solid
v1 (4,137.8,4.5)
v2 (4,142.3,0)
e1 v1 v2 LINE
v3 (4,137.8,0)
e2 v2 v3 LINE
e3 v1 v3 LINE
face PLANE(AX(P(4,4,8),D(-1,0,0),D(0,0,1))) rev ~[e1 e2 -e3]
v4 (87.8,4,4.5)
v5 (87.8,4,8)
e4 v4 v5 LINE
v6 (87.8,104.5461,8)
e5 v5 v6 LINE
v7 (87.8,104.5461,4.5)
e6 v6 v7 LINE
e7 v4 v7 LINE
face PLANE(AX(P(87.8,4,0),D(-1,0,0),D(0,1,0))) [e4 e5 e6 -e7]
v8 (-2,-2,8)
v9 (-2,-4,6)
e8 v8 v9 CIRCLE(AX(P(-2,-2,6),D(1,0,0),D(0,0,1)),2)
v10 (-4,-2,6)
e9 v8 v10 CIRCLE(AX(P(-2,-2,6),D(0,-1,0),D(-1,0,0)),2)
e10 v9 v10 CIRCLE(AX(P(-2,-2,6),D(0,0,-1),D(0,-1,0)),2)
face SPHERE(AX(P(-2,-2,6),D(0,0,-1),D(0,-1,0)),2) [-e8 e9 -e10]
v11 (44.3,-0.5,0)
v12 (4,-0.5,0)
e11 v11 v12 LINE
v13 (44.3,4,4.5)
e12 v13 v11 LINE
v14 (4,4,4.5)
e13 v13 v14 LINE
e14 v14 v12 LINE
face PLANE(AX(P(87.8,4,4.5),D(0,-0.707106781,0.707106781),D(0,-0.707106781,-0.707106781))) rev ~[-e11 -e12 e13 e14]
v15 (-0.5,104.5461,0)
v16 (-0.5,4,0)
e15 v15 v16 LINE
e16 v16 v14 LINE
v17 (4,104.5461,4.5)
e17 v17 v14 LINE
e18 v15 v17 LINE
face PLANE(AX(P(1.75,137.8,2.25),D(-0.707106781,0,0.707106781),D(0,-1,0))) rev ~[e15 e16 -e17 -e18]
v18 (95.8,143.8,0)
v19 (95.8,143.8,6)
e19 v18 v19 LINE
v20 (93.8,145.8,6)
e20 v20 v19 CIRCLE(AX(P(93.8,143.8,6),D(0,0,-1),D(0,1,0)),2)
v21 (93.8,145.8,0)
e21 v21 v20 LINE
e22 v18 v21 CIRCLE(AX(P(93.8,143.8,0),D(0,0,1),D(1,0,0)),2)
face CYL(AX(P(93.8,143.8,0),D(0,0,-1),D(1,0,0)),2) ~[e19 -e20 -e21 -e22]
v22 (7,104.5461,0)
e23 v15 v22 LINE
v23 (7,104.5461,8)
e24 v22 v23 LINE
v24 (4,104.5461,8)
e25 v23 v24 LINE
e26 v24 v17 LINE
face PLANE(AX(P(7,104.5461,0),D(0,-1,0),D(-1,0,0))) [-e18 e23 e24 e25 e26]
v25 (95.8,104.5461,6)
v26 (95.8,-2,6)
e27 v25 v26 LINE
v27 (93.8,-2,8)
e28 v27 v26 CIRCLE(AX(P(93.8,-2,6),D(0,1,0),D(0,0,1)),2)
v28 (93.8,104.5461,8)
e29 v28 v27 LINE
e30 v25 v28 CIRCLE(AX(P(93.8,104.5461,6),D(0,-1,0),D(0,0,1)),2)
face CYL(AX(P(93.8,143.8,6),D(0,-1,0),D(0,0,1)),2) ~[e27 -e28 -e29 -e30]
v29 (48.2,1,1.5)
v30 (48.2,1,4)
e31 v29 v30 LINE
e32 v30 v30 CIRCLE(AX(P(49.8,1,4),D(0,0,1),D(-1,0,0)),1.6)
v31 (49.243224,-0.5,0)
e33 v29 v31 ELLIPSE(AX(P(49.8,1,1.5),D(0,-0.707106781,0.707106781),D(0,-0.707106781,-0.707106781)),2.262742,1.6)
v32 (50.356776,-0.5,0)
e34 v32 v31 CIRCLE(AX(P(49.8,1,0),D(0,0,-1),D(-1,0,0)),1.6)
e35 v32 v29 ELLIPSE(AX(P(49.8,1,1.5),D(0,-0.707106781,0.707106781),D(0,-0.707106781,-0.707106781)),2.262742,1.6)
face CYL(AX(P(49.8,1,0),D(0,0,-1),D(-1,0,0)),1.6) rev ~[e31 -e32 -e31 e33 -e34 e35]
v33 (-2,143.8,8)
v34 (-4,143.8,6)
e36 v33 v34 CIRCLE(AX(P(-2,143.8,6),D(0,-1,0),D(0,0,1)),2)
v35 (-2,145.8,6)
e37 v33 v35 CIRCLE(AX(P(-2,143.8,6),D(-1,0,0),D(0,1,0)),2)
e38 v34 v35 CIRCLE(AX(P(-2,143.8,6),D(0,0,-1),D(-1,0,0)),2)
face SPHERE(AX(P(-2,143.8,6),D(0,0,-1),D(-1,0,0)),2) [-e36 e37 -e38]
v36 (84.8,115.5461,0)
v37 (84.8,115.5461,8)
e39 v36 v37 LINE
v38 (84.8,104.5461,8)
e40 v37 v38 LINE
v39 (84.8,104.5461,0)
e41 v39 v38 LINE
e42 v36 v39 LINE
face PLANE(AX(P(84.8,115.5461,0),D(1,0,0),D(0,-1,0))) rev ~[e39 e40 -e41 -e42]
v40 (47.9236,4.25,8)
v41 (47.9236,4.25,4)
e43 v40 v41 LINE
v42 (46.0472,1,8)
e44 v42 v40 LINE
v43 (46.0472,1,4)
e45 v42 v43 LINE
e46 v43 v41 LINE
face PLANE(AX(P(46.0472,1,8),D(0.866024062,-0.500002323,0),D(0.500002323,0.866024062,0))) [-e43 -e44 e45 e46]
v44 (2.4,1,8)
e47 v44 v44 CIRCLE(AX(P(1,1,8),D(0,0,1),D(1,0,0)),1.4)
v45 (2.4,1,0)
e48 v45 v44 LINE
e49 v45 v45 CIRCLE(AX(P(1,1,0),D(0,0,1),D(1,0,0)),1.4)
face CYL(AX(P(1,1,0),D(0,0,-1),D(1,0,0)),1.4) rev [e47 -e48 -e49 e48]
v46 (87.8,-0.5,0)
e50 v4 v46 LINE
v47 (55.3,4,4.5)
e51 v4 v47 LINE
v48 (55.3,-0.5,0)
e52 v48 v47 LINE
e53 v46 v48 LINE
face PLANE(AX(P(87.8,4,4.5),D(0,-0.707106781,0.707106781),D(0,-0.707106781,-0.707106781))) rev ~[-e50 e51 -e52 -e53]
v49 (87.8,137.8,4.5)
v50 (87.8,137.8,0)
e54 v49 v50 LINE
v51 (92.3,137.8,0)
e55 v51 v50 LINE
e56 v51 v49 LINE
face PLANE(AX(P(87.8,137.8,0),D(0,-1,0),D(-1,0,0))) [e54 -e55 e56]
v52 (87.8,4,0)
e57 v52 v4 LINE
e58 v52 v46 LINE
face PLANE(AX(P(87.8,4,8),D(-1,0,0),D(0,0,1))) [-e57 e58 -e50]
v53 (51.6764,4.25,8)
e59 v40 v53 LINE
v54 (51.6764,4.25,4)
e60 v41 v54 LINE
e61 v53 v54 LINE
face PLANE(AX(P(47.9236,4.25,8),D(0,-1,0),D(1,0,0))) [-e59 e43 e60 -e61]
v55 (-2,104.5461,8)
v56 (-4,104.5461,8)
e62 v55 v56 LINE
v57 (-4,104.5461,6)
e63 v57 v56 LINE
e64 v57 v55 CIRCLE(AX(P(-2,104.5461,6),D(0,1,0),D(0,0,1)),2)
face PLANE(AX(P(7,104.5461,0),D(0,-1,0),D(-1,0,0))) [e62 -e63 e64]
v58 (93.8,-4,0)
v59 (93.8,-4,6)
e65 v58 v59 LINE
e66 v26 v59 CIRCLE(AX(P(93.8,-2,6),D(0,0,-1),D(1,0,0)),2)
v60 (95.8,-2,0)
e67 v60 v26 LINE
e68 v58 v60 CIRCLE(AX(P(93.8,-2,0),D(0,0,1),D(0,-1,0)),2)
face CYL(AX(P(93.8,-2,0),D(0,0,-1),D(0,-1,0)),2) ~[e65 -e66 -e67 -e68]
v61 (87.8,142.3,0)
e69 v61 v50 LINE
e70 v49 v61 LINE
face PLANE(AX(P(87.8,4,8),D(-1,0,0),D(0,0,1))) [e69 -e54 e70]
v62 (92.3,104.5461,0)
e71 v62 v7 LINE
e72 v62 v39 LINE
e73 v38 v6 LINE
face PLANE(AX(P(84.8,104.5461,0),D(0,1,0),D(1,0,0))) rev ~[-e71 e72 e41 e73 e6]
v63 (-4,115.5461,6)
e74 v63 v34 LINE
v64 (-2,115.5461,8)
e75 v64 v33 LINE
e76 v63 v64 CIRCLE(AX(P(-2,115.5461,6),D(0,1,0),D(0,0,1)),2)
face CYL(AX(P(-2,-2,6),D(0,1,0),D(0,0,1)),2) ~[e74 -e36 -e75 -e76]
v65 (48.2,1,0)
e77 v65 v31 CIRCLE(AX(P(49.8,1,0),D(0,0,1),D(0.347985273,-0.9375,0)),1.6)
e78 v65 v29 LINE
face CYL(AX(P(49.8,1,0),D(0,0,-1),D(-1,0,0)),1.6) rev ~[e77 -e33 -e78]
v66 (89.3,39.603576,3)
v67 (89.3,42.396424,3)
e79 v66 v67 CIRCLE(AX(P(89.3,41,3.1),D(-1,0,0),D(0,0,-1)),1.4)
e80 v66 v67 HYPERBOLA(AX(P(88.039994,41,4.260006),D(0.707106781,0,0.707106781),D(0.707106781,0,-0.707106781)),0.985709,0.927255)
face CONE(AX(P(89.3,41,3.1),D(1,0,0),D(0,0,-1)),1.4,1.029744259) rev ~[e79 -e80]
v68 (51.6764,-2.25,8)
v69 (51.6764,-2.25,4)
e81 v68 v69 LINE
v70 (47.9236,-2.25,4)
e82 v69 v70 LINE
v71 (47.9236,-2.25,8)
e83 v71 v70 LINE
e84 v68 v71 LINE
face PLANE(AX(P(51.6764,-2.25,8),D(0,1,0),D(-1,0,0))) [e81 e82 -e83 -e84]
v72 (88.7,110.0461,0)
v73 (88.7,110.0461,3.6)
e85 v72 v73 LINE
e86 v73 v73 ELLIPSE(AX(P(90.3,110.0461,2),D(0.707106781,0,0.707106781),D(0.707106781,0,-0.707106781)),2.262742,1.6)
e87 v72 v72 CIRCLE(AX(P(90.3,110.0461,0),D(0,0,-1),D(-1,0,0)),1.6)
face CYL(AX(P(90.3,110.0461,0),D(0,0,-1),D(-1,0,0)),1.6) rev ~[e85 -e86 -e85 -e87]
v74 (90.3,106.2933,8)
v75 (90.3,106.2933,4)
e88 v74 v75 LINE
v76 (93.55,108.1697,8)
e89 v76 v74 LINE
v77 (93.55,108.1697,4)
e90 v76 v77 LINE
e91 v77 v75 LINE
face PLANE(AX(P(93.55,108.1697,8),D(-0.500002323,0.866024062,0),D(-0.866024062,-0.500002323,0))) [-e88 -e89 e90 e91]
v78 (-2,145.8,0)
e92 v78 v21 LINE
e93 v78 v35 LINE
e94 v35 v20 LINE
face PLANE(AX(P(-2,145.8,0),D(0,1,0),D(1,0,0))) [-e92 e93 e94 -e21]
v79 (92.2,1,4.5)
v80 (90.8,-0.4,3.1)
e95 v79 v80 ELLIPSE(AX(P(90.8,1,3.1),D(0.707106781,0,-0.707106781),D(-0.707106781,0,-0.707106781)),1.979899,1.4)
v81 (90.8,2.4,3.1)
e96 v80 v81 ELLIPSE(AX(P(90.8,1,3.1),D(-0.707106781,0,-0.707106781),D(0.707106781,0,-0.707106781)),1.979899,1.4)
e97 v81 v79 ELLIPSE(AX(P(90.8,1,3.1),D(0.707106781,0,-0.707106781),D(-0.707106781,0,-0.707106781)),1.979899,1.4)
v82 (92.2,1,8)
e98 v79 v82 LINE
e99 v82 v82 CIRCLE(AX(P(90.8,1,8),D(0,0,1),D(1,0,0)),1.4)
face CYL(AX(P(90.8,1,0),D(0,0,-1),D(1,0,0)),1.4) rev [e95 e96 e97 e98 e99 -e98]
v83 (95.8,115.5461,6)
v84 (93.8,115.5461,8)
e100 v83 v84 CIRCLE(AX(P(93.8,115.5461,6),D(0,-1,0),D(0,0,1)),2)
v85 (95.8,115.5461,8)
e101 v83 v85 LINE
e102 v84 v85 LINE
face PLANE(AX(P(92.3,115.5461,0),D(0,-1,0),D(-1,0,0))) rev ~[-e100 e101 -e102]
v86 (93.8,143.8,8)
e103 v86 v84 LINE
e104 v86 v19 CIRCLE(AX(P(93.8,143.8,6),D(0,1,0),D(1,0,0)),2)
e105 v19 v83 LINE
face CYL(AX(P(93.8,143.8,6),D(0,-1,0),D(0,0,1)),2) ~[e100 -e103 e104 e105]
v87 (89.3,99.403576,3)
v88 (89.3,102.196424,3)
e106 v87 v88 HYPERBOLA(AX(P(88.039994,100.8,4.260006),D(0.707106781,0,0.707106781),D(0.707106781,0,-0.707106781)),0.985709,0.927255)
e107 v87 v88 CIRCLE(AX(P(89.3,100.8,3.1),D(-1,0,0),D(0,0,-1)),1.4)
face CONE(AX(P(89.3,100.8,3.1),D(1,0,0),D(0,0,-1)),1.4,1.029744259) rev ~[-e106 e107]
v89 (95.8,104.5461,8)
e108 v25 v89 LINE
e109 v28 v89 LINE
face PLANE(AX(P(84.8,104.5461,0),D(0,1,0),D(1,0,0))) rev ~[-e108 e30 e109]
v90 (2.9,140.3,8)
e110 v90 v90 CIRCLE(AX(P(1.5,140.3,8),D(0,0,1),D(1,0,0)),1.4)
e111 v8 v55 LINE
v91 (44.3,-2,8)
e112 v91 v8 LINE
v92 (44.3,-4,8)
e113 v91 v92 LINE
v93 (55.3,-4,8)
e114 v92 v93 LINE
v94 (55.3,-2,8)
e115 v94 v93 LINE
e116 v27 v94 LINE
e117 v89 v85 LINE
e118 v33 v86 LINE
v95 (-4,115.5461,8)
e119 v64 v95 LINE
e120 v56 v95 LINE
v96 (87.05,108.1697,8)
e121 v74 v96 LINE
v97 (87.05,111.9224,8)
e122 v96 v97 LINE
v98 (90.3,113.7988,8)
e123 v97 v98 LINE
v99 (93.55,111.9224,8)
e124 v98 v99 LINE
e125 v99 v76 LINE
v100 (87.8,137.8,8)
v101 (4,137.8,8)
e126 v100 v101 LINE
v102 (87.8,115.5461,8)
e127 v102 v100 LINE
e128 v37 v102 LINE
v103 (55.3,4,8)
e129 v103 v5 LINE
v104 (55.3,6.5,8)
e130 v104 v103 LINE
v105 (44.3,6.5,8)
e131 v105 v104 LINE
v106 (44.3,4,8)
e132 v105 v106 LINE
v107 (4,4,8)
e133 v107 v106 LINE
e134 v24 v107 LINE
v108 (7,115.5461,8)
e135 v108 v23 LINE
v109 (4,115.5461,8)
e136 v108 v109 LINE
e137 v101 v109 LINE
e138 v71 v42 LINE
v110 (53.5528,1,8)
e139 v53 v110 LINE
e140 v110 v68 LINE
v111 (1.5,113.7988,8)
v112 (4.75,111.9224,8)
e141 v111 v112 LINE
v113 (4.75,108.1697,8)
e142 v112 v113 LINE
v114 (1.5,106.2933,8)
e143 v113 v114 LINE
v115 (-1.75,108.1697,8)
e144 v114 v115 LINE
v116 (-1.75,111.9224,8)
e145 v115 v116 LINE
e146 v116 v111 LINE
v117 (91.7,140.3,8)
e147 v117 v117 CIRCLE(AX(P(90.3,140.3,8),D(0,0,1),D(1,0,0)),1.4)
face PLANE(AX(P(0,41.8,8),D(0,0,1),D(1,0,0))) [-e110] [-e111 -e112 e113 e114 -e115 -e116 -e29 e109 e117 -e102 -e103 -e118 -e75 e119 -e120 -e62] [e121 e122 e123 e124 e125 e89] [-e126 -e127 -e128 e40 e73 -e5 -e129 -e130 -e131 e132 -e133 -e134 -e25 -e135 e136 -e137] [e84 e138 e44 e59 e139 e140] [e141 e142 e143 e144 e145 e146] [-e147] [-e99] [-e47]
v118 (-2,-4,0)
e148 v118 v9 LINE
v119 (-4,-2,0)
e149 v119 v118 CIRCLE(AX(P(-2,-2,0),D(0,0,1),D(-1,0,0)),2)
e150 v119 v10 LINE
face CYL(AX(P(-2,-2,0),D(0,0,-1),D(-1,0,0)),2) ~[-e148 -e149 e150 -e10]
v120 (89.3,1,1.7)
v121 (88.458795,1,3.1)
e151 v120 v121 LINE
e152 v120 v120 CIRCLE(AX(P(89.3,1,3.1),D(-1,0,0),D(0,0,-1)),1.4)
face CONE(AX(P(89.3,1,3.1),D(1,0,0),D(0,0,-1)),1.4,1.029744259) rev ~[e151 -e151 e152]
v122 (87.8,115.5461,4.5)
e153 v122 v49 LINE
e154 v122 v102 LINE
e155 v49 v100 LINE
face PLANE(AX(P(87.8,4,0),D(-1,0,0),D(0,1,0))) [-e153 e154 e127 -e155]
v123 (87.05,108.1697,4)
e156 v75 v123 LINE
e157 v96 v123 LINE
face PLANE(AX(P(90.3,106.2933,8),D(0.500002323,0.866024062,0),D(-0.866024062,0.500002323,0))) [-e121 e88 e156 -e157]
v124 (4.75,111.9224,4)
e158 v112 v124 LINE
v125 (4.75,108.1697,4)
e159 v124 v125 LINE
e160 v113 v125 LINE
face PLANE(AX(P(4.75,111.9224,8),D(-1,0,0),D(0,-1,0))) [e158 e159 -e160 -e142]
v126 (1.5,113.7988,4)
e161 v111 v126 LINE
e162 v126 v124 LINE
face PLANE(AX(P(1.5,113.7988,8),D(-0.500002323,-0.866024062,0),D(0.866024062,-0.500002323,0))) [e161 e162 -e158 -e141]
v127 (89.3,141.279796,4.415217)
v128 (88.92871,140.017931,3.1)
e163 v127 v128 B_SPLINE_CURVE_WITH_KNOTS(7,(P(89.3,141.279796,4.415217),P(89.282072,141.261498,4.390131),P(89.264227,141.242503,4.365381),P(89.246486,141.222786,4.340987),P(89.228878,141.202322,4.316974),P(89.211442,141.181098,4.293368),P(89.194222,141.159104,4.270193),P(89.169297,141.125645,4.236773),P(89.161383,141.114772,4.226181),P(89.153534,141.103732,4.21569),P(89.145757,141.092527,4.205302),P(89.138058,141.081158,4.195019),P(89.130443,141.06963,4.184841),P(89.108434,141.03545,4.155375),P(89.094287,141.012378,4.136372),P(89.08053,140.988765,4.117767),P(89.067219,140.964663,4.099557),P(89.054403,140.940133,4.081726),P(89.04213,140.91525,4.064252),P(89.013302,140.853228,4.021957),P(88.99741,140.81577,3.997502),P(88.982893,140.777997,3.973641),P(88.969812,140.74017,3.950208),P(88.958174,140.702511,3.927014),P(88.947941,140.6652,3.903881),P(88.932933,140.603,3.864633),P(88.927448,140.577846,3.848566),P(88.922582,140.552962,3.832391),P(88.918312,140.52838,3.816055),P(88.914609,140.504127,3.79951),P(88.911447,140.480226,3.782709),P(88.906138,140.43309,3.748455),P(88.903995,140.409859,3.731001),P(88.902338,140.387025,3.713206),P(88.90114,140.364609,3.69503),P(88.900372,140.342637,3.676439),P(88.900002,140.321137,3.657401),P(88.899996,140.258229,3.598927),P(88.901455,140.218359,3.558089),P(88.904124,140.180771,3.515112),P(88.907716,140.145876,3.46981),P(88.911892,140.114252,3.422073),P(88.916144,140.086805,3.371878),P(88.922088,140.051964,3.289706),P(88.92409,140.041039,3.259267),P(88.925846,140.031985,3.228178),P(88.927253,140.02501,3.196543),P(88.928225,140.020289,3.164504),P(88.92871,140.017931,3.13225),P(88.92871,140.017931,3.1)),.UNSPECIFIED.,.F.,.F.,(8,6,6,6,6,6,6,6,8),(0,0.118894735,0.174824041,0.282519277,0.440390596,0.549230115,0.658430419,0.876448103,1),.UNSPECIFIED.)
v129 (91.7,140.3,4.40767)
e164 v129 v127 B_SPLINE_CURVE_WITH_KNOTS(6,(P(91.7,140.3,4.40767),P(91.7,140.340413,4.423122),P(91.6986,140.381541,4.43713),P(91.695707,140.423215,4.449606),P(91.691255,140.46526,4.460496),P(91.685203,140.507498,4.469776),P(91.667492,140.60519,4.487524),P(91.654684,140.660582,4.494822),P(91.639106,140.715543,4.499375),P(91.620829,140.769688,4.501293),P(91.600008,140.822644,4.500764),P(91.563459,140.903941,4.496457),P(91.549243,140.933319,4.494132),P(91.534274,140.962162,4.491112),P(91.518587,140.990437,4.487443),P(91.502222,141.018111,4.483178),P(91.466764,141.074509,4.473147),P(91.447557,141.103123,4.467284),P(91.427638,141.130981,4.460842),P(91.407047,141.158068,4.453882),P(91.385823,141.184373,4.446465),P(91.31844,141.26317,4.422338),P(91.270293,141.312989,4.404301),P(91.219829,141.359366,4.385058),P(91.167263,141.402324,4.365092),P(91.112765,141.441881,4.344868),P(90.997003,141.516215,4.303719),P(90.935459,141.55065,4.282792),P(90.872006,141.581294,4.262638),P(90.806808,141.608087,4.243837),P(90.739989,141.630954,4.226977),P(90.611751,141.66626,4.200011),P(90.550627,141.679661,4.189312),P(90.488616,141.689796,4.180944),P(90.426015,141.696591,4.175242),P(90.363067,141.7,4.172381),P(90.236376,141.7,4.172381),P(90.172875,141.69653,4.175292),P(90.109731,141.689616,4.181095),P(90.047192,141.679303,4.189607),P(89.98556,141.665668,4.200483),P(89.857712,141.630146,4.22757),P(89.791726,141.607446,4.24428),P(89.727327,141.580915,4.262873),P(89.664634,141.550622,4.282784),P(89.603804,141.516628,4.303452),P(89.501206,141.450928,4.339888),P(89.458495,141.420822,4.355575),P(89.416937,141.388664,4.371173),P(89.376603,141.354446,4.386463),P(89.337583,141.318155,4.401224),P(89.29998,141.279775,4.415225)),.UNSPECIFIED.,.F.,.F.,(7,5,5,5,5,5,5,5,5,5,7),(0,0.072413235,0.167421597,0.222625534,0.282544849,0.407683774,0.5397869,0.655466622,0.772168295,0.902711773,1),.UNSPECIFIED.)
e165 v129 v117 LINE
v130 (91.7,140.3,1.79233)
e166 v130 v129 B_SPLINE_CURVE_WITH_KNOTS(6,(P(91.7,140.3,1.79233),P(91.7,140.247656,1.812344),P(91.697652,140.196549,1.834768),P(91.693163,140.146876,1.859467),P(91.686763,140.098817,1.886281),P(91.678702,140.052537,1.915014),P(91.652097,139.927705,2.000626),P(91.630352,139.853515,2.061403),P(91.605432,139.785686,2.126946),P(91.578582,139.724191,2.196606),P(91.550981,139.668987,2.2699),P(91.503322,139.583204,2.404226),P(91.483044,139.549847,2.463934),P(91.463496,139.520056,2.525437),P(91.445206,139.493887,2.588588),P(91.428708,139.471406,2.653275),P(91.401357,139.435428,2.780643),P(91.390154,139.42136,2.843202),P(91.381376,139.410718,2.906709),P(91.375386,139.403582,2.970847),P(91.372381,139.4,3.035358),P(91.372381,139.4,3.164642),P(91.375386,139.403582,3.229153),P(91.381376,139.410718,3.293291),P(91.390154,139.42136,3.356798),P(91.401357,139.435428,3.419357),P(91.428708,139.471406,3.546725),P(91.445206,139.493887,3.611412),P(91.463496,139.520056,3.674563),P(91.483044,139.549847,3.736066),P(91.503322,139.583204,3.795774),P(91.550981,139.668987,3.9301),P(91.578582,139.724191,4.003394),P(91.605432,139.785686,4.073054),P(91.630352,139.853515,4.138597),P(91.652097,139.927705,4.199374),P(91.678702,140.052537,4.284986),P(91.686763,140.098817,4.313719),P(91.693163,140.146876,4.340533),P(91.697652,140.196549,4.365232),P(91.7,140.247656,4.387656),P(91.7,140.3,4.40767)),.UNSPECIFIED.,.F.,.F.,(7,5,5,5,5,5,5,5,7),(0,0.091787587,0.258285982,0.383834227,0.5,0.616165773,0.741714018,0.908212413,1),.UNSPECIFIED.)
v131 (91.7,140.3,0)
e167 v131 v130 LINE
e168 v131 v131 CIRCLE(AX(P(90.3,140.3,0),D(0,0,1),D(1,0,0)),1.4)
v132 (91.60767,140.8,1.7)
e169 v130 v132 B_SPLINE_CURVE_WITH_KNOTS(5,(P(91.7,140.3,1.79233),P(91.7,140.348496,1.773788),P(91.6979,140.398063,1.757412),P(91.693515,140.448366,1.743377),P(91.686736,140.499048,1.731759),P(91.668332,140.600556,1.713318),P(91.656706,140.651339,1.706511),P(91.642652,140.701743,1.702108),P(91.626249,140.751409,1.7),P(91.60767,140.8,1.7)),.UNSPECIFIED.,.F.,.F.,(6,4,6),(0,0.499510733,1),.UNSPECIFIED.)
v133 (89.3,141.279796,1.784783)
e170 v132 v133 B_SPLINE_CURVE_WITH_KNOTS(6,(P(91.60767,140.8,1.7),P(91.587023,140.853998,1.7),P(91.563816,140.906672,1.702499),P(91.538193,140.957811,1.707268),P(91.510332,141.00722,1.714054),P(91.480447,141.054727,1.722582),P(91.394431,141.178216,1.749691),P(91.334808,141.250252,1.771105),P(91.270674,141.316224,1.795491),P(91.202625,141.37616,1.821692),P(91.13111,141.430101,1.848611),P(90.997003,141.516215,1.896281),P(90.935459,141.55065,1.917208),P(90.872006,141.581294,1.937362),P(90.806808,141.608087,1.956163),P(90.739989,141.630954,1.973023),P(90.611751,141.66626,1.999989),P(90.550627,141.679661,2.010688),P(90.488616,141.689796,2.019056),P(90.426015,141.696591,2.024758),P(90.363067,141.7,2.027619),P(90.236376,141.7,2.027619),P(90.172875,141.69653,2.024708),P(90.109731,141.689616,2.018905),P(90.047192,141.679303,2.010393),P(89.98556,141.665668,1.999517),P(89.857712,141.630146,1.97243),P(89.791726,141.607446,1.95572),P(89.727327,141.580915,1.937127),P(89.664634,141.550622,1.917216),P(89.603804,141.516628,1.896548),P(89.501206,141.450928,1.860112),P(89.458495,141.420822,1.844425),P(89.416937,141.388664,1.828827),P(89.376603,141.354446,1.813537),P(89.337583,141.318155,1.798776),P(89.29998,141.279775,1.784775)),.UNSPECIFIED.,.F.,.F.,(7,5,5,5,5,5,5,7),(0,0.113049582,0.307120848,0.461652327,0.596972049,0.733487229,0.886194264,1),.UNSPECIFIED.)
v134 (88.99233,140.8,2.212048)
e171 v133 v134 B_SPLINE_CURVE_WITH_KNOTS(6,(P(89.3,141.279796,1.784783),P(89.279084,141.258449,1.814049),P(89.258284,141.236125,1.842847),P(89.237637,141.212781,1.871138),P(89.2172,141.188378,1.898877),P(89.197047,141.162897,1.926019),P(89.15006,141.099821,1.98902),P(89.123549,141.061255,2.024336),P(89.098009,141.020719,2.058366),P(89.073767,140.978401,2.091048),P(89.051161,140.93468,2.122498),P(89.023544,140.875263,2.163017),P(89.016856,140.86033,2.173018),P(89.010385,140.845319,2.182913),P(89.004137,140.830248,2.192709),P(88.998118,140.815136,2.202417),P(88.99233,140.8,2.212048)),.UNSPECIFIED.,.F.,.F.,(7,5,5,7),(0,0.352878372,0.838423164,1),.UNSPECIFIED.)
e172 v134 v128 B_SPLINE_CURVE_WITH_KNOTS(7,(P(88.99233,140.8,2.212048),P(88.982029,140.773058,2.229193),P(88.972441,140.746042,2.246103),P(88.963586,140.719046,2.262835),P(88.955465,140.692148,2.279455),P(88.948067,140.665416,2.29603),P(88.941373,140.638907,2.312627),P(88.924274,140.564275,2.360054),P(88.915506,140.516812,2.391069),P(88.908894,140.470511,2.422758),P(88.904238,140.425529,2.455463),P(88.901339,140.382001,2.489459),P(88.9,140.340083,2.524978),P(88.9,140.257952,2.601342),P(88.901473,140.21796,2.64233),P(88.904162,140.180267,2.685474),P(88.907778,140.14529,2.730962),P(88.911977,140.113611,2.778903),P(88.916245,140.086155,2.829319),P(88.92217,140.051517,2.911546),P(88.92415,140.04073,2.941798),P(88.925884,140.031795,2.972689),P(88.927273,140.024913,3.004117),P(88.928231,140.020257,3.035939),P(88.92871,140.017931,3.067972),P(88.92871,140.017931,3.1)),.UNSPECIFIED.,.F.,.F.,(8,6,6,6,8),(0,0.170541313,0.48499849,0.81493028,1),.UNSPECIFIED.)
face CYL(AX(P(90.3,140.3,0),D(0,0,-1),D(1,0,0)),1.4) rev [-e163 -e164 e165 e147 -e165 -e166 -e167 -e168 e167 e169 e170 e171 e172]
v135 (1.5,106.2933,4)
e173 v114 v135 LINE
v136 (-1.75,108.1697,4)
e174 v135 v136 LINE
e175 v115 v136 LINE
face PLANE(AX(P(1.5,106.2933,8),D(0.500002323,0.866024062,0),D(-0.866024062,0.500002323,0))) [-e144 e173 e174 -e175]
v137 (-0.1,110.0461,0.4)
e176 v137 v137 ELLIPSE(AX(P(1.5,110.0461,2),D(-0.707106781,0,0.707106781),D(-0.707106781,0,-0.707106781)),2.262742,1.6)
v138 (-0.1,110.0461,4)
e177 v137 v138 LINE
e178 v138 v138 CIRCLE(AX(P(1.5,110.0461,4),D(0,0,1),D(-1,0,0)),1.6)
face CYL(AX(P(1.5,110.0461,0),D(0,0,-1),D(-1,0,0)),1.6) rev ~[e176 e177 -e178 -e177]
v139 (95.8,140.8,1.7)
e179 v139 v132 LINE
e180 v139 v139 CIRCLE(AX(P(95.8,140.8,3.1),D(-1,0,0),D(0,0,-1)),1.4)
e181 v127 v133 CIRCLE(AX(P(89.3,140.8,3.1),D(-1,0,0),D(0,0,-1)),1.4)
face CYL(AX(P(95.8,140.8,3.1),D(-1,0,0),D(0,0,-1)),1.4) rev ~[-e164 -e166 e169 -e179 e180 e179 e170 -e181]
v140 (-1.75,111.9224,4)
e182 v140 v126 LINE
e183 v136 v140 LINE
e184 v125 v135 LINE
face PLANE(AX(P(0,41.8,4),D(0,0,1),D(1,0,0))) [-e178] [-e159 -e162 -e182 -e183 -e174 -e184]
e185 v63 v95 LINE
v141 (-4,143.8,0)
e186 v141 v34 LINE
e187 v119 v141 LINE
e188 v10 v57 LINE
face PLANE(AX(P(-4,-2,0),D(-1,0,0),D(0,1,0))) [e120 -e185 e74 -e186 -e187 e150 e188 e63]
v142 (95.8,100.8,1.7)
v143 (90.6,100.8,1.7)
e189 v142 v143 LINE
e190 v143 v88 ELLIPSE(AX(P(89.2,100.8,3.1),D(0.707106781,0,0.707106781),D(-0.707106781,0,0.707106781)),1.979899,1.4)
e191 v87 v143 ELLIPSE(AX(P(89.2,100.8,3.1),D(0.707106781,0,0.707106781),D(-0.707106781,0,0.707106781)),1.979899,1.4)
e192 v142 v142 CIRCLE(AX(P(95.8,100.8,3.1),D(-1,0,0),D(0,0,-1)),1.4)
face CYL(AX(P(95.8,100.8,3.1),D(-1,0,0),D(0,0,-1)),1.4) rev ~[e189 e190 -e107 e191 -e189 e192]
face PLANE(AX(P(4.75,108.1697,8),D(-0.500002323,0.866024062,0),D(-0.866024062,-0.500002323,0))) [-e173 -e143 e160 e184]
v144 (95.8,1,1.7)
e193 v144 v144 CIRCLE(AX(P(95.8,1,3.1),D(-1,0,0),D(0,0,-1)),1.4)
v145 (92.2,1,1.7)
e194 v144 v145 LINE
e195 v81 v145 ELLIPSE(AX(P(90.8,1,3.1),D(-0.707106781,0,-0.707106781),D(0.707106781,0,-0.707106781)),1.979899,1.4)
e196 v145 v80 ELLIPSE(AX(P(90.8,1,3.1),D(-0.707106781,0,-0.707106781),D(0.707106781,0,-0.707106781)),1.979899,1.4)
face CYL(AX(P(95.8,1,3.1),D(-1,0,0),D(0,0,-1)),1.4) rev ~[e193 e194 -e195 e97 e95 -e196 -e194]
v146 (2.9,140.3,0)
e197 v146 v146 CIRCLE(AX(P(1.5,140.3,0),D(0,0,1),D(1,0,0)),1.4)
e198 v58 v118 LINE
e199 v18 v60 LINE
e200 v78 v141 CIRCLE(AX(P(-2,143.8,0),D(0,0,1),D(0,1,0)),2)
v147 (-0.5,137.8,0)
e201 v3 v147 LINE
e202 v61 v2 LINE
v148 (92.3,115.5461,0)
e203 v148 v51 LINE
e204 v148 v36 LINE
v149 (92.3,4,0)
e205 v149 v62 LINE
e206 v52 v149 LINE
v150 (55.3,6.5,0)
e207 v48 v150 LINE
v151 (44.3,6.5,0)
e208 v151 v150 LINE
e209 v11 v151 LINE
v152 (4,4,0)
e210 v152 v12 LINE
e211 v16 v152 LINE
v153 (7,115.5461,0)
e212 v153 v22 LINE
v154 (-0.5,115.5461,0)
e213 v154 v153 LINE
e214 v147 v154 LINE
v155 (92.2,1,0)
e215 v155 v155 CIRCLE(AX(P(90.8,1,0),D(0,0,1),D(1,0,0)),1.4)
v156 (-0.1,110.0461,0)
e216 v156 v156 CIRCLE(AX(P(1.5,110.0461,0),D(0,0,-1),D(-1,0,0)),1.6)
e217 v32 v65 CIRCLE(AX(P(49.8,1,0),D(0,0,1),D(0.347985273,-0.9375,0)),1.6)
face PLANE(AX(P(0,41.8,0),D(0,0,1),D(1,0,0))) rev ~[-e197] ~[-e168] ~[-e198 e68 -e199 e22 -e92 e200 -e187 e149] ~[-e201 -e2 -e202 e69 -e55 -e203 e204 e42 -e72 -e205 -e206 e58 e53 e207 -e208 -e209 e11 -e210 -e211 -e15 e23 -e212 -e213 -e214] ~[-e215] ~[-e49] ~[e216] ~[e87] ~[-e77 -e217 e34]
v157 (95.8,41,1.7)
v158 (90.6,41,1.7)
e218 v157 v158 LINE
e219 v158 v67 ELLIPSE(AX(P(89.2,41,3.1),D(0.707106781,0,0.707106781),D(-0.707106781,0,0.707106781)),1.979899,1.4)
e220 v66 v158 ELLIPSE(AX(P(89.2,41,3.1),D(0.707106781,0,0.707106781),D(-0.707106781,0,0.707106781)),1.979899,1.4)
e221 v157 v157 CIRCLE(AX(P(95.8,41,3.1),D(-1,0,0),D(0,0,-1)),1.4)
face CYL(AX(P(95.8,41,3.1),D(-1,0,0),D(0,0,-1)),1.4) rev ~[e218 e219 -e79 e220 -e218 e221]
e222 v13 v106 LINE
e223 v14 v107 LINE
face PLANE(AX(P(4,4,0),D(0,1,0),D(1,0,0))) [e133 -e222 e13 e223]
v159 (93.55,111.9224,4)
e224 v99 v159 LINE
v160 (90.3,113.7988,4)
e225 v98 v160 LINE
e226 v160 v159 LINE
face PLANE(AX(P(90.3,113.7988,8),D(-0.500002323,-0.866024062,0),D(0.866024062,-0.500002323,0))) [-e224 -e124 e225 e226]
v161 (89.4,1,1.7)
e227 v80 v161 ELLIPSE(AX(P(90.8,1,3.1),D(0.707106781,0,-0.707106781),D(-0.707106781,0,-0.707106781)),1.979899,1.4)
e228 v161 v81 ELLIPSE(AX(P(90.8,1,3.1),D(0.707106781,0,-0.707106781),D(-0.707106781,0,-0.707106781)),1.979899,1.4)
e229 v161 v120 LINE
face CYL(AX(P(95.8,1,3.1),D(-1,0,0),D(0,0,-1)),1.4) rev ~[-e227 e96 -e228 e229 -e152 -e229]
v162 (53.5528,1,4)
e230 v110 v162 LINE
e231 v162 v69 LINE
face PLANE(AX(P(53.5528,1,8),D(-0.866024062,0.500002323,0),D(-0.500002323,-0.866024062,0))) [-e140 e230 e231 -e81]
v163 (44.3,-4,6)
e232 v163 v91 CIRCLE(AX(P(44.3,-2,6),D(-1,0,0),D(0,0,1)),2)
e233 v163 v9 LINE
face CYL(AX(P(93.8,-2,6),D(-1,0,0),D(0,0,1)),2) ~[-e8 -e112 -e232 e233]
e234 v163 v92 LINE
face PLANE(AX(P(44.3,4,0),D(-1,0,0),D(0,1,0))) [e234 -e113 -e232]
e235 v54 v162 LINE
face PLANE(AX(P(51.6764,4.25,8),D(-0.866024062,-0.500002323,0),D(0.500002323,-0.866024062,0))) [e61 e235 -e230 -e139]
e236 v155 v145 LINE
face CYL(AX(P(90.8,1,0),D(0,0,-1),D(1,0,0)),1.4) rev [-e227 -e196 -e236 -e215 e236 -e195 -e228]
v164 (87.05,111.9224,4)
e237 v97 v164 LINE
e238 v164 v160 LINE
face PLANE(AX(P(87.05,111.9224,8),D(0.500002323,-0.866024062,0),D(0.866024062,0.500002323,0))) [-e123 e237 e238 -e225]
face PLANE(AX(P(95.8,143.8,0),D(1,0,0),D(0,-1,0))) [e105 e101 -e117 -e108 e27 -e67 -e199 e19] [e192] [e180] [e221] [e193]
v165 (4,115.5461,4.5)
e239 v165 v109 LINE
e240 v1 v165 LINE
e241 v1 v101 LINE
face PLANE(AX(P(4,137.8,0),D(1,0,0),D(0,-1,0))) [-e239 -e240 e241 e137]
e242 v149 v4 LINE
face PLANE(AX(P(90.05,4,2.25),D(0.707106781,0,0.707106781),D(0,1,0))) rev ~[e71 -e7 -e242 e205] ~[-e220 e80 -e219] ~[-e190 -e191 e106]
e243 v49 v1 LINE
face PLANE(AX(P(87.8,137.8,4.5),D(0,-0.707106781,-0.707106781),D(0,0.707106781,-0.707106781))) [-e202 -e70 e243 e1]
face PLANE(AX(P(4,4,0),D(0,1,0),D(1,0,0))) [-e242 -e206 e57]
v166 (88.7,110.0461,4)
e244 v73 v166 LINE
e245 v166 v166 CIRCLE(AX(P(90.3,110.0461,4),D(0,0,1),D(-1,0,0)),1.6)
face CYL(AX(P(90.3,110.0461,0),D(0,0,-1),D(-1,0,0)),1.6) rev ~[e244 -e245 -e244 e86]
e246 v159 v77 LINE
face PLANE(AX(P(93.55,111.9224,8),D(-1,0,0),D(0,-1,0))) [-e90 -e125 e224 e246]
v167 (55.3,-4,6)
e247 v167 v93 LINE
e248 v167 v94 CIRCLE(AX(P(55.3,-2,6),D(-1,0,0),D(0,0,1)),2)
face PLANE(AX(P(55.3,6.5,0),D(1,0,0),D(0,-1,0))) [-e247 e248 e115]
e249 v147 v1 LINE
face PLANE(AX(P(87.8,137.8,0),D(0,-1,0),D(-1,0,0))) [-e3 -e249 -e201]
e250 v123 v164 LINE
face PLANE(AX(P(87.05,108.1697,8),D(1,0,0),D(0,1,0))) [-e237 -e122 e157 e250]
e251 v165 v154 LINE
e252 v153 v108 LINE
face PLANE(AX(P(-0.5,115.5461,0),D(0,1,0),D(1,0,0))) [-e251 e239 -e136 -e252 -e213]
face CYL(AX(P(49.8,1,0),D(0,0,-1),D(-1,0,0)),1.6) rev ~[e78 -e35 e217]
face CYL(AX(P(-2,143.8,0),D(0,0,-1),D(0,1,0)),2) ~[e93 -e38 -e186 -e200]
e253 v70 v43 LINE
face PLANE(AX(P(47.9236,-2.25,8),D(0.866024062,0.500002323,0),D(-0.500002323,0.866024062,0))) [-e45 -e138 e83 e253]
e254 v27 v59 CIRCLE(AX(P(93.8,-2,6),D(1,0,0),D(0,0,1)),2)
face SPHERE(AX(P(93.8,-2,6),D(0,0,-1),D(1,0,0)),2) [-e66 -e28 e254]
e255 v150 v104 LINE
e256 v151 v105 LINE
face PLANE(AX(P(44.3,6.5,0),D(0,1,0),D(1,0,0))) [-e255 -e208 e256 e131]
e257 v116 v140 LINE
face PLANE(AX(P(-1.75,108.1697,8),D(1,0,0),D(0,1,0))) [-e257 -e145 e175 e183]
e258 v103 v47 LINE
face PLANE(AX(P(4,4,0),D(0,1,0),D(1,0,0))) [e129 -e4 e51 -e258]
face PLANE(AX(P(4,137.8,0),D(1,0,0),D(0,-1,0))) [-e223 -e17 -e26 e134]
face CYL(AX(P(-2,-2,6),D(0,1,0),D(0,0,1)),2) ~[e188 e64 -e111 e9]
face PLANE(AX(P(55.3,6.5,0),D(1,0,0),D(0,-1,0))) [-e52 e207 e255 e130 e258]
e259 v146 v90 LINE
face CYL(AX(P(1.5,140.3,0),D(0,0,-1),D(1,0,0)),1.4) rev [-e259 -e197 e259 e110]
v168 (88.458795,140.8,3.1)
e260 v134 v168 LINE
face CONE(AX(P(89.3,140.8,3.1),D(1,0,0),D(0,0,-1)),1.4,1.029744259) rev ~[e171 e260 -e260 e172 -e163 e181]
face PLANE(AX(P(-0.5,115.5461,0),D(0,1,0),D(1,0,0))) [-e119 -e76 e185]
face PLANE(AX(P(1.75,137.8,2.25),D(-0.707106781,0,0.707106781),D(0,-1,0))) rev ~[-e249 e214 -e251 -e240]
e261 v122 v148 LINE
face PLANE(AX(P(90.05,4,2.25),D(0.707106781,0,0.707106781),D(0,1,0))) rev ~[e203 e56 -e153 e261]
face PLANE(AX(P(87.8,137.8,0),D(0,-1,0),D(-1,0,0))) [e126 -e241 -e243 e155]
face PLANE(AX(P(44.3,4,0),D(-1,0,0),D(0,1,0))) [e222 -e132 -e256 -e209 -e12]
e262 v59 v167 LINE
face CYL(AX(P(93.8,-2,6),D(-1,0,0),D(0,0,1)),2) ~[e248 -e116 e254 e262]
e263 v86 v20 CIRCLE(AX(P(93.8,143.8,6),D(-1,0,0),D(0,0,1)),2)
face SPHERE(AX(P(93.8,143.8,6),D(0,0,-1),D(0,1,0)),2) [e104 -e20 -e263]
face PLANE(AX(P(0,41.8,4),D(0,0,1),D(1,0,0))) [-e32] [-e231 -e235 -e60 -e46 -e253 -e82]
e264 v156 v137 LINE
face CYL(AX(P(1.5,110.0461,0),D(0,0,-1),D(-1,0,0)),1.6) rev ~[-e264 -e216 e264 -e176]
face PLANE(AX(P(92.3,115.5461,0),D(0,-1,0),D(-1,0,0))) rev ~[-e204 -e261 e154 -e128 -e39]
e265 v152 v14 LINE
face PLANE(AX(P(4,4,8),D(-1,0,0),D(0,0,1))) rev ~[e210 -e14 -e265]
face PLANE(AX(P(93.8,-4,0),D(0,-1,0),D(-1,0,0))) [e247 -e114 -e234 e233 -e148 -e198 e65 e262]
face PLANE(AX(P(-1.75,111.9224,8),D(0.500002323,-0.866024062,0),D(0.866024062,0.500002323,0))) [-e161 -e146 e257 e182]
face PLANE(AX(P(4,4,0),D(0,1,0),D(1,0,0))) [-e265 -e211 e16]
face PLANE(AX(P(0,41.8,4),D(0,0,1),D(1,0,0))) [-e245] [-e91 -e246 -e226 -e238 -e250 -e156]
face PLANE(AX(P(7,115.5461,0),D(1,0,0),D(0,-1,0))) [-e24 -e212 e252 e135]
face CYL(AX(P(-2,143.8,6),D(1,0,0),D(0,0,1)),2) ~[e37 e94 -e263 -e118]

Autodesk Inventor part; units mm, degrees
ref_plane "YZ Plane" through (0, 0, 0) normal (1, 0, 0) x (0, 1, 0)
ref_plane "XZ Plane" through (0, 0, 0) normal (0, 1, 0) x (-1, 0, 0)
ref_plane "XY Plane" through (0, 0, 0) normal (0, 0, 1) x (1, 0, 0)
ref_plane "Work Plane1" through (0, 41.8, 0) normal (0, 0, 1) x (1, 0, 0)
sketch "Sketch1" plane through (0, 41.8, 0) normal (0, 0, 1) x (1, 0, 0)
  circle A0 centre (0.9, -0.9) radius 1.45 construction
  line L0 (4, -1.5) -> (1.5, -4) construction
  line L1 (4, -1.5) -> (4, 4) construction
  line L2 (4, 4) -> (-2, 4) construction
  arc A1 (-2, 4) -> (-4, 2) centre (-2, 2) ccw construction
  line L3 (-4, 2) -> (-4, -4) construction
  line L4 (-4, -4) -> (1.5, -4) construction
  arc A2 (45.8, 2) -> (43.8, 4) centre (43.8, 2) ccw construction
  line L5 (43.8, 4) -> (37.8, 4) construction
  line L6 (37.8, 4) -> (37.8, -1.5) construction
  line L7 (40.3, -4) -> (45.8, -4) construction
  line L8 (45.8, -4) -> (45.8, 2) construction
  circle A3 centre (40.9, -0.9) radius 1.45 construction
  line L9 (37.8, -40.3) -> (40.3, -37.8) construction
  line L10 (37.8, -40.3) -> (37.8, -45.8) construction
  line L11 (37.8, -45.8) -> (43.8, -45.8) construction
  arc A4 (43.8, -45.8) -> (45.8, -43.8) centre (43.8, -43.8) ccw construction
  line L12 (45.8, -43.8) -> (45.8, -37.8) construction
  line L13 (45.8, -37.8) -> (40.3, -37.8) construction
  circle A5 centre (40.9, -40.9) radius 1.45 construction
  circle A6 centre (0.9, -40.9) radius 1.45 construction
  line L14 (1.5, -37.8) -> (4, -40.3) construction
  line L15 (1.5, -37.8) -> (-4, -37.8) construction
  line L16 (-4, -37.8) -> (-4, -43.8) construction
  arc A7 (-4, -43.8) -> (-2, -45.8) centre (-2, -43.8) ccw construction
  line L17 (-2, -45.8) -> (4, -45.8) construction
  line L18 (4, -45.8) -> (4, -40.3) construction
  line L19 (40.3, -4) -> (37.8, -1.5) construction
  line L20 (-2, 104) -> (93.8, 104)
  line L21 (95.8, 102) -> (95.8, -43.8)
  line L22 (93.8, -45.8) -> (-2, -45.8)
  line L23 (-4, -43.8) -> (-4, 102)
  line L24 (90.3, -37.8) -> (90.3, 96)
  line L25 (87.8, 98.5) -> (4, 98.5)
  line L26 (1.5, 96) -> (1.5, -37.8)
  line L27 (4, -40.3) -> (87.8, -40.3)
  line L28 (87.8, -40.3) -> (90.3, -37.8)
  line L29 (4, -40.3) -> (1.5, -37.8)
  line L30 (4, 98.5) -> (1.5, 96)
  line L31 (90.3, 96) -> (87.8, 98.5)
  arc A8 (95.8, 102) -> (93.8, 104) centre (93.8, 102) ccw
  arc A9 (93.8, -45.8) -> (95.8, -43.8) centre (93.8, -43.8) ccw
  arc A10 (-4, -43.8) -> (-2, -45.8) centre (-2, -43.8) ccw
  arc A11 (-2, 104) -> (-4, 102) centre (-2, 102) ccw
  circle A12 centre (90.8, -40.8) radius 1.4
  circle A13 centre (1, -40.8) radius 1.4
  circle A14 centre (45.9, 54.1) radius 44.4 construction
  line L32 (4, 96) -> (4, -37.8)
  line L33 (4, -37.8) -> (87.8, -37.8)
  line L34 (87.8, -37.8) -> (87.8, 96)
  line L35 (87.8, 96) -> (4, 96)
  circle A15 centre (1.5, 98.5) radius 1.4
  circle A16 centre (90.3, 98.5) radius 1.4
  point P0 (95.8, -45.8)
  point P1 (95.8, 104)
  point P2 (-4, -45.8)
  point P3 (90.3, -40.3)
  point P4 (1.5, -40.3)
  point P5 (40.8, 99)
  dimension "d34" = 99.8
  dimension "d35" = 149.8
  dimension "d36" = 5.5
  dimension "d37" = 2.5
  dimension "d38" = 2.5
  dimension "d39" = 2.5
  dimension "d40" = 2.5
  dimension "d41" = 2.5
  dimension "d42" = 2.5
  dimension "d43" = 2.5
  dimension "d44" = 2.5
  dimension "d45" = 2
  dimension "d46" = 5
  dimension "d47" = 5
  dimension "d48" = 5
  dimension "d49" = 5
  dimension "d50" = 5
  dimension "d51" = 5
  dimension "d57" = 2.8
  dimension "d58" = 2.8
  dimension "d90" = 8
  dimension "d102" = 2.8
  dimension "d103" = 2.8
extrude "Extrusion1" add sketch "Sketch1" along normal blind 8 contours L20 A8 L21 A9 L22 A10 L23 A11 | L28 L27 L29 L26 L30 L25 L31 L24
fillet "Fillet1" radius 2 8 edges at (45.9, -4, 8) (95.2142, -3.4142, 8) (95.8, 70.9, 8) (95.2142, 145.2142, 8) (45.9, 145.8, 8) (-3.4142, 145.2142, 8) (-4, 70.9, 8) (-3.4142, -3.4142, 8)
sketch "Sketch3" plane through (0, 41.8, 8) normal (0, 0, 1) x (1, 0, 0)
  circle A0 centre (20.9, -20.9) radius 16.9 construction
  point P0 (0, -41.8)
chamfer "Chamfer2" distance 4.5 angle 45 2 edges at (4, 70.9, 0) (87.8, 70.9, 0)
sketch "Sketch7" plane through (95.8, -2, 0) normal (1, 0, 0) x (0, 0, -1)
  circle A0 centre (-3.1, 142.8) radius 1.4 projected
  circle A1 centre (-3.1, 3) radius 1.4 projected
  circle A2 centre (-3.1, 43) radius 1.4 projected
  circle A3 centre (-3.1, 102.8) radius 1.4 projected
  point P0 (0, 2)
  point P1 (-3, 101.4036)
  point P2 (-3, 104.1964)
hole "Hole4" at (95.8, 140.8, 3.1) at (95.8, 1, 3.1) at (95.8, 41, 3.1) at (95.8, 100.8, 3.1) direction (-1, 0, 0) diameter 2.8 depth 6.5 tip angle 118
sketch "Sketch9" plane through (87.8, 4, 8) normal (-1, 0, 0) x (0, 0, 1)
  line L0 (-8, 0) -> (-3.5, 0) projected
  line L1 (-3.5, 133.8) -> (-8, 133.8) projected
  line L2 (-3.5, 0) -> (-8, -4.5)
  line L3 (-8, 139.8) -> (-8, -6) projected
  line L4 (-3.5, 0) -> (2.864, 0) construction
  line L5 (-8, -4.5) -> (-8, 0)
  line L6 (-3.5, 133.8) -> (-8, 138.3)
  line L7 (-3.5, 133.8) -> (2.864, 133.8) construction
  line L8 (-8, 138.3) -> (-8, 133.8)
  line L9 (-8, 133.8) -> (-3.5, 133.8)
  point P0 (-8, -4)
  dimension "d91" = 135
  dimension "d92" = 135
extrude "Extrusion3" cut sketch "Sketch9" along normal up to surface (83.8 mm away)
sketch "Sketch11" plane through (0, 41.8, 0) normal (0, 0, -1) x (-1, 0, 0)
  circle A0 centre (-1.5, 68.2461) radius 1.6 projected
  circle A1 centre (-90.3, 68.2461) radius 1.6 projected
  circle A2 centre (-49.8, -40.8) radius 1.6 projected
  line L0 (0.5, -37.8) -> (0.5, 96) projected
  line L1 (-92.3, 96) -> (-92.3, -37.8) projected
  line L2 (-87.8, -37.8) -> (-4, -37.8) projected
  line L3 (4, -43.8) -> (4, 102) projected
  line L4 (-7, 62.7461) -> (4, 62.7461)
  line L5 (4, 62.7461) -> (4, 73.7461)
  line L6 (4, 73.7461) -> (-7, 73.7461)
  line L7 (-7, 73.7461) -> (-7, 62.7461)
  line L8 (-7, 62.7461) -> (4, 73.7461) construction
  line L9 (4, 62.7461) -> (-7, 73.7461) construction
  line L10 (-84.8, 62.7461) -> (-95.8, 62.7461)
  line L11 (-95.8, 62.7461) -> (-95.8, 73.7461)
  line L12 (-95.8, 73.7461) -> (-84.8, 73.7461)
  line L13 (-84.8, 73.7461) -> (-84.8, 62.7461)
  line L14 (-84.8, 62.7461) -> (-95.8, 73.7461) construction
  line L15 (-95.8, 62.7461) -> (-84.8, 73.7461) construction
  line L16 (-55.3, -46.3) -> (-44.3, -46.3)
  line L17 (-44.3, -46.3) -> (-44.3, -35.3)
  line L18 (-44.3, -35.3) -> (-55.3, -35.3)
  line L19 (-55.3, -35.3) -> (-55.3, -46.3)
  line L20 (-55.3, -46.3) -> (-44.3, -35.3) construction
  line L21 (-44.3, -46.3) -> (-55.3, -35.3) construction
  line L22 (2, -45.8) -> (-93.8, -45.8) projected
  line L23 (-44.3, -45.8) -> (-55.3, -45.8)
  point P0 (0, -41.8)
  dimension "d104" = 11
  dimension "d105" = 11
  dimension "d106" = 11
  dimension "d107" = 11
  dimension "d108" = 11
extrude "Extrusion5" add sketch "Sketch11" against normal up to surface (8 mm away) contours L4 L7 L6 L0 | L0 L6 L3 L4 | L12 L13 L10 L1 | L1 L10 L11 L12 | L19 L18 L17 L2 | L2 L17 L22 L19
sketch "Sketch12" plane through (0, 41.8, 0) normal (0, 0, -1) x (-1, 0, 0)
  circle A0 centre (-1.5, 68.2461) radius 1.6 projected
  circle A1 centre (-90.3, 68.2461) radius 1.6 projected
  circle A2 centre (-49.8, -40.8) radius 1.6 projected
  point P0 (0, -41.8)
extrude "Extrusion6" cut sketch "Sketch12" against normal blind 10
sketch "Sketch13" plane through (0, 41.8, 8) normal (0, 0, 1) x (1, 0, 0)
  circle A0 centre (90.3, 68.2461) radius 1.6 projected
  circle A1 centre (1.5, 68.2461) radius 1.6 projected
  circle A2 centre (49.8, -40.8) radius 1.6 projected
  line L0 (93.55, 70.1224) -> (93.55, 66.3697)
  line L1 (93.55, 66.3697) -> (90.3, 64.4933)
  line L2 (90.3, 64.4933) -> (87.05, 66.3697)
  line L3 (87.05, 66.3697) -> (87.05, 70.1224)
  line L4 (87.05, 70.1224) -> (90.3, 71.9988)
  line L5 (90.3, 71.9988) -> (93.55, 70.1224)
  line L6 (4.75, 70.1224) -> (4.75, 66.3697)
  line L7 (4.75, 66.3697) -> (1.5, 64.4933)
  line L8 (1.5, 64.4933) -> (-1.75, 66.3697)
  line L9 (-1.75, 66.3697) -> (-1.75, 70.1224)
  line L10 (-1.75, 70.1224) -> (1.5, 71.9988)
  line L11 (1.5, 71.9988) -> (4.75, 70.1224)
  line L12 (51.6764, -37.55) -> (53.5528, -40.8)
  line L13 (53.5528, -40.8) -> (51.6764, -44.05)
  line L14 (51.6764, -44.05) -> (47.9236, -44.05)
  line L15 (47.9236, -44.05) -> (46.0472, -40.8)
  line L16 (46.0472, -40.8) -> (47.9236, -37.55)
  line L17 (47.9236, -37.55) -> (51.6764, -37.55)
  line L18 (95.8, 73.7461) -> (95.8, 62.7461) projected
  line L19 (-4, 62.7461) -> (-4, 73.7461) projected
  line L20 (44.3, -35.3) -> (55.3, -35.3) projected
  point P0 (0, -41.8)
  point P1 (90.3, 68.2461)
  point P2 (1.5, 68.2461)
  point P3 (49.8, -40.8)
  dimension "d113" = 6.5
  dimension "d114" = 6.5
  dimension "d115" = 6.5
extrude "Extrusion7" cut sketch "Sketch13" against normal blind 4
equation "\"d38\" = d37"
equation "\"d39\" = d37"
equation "\"d40\" = d39"
equation "\"d41\" = d37"
equation "\"d42\" = d41"
equation "\"d43\" = d37"
equation "\"d44\" = d43"
properties part number "10_Lid_el_4x2_v2"
